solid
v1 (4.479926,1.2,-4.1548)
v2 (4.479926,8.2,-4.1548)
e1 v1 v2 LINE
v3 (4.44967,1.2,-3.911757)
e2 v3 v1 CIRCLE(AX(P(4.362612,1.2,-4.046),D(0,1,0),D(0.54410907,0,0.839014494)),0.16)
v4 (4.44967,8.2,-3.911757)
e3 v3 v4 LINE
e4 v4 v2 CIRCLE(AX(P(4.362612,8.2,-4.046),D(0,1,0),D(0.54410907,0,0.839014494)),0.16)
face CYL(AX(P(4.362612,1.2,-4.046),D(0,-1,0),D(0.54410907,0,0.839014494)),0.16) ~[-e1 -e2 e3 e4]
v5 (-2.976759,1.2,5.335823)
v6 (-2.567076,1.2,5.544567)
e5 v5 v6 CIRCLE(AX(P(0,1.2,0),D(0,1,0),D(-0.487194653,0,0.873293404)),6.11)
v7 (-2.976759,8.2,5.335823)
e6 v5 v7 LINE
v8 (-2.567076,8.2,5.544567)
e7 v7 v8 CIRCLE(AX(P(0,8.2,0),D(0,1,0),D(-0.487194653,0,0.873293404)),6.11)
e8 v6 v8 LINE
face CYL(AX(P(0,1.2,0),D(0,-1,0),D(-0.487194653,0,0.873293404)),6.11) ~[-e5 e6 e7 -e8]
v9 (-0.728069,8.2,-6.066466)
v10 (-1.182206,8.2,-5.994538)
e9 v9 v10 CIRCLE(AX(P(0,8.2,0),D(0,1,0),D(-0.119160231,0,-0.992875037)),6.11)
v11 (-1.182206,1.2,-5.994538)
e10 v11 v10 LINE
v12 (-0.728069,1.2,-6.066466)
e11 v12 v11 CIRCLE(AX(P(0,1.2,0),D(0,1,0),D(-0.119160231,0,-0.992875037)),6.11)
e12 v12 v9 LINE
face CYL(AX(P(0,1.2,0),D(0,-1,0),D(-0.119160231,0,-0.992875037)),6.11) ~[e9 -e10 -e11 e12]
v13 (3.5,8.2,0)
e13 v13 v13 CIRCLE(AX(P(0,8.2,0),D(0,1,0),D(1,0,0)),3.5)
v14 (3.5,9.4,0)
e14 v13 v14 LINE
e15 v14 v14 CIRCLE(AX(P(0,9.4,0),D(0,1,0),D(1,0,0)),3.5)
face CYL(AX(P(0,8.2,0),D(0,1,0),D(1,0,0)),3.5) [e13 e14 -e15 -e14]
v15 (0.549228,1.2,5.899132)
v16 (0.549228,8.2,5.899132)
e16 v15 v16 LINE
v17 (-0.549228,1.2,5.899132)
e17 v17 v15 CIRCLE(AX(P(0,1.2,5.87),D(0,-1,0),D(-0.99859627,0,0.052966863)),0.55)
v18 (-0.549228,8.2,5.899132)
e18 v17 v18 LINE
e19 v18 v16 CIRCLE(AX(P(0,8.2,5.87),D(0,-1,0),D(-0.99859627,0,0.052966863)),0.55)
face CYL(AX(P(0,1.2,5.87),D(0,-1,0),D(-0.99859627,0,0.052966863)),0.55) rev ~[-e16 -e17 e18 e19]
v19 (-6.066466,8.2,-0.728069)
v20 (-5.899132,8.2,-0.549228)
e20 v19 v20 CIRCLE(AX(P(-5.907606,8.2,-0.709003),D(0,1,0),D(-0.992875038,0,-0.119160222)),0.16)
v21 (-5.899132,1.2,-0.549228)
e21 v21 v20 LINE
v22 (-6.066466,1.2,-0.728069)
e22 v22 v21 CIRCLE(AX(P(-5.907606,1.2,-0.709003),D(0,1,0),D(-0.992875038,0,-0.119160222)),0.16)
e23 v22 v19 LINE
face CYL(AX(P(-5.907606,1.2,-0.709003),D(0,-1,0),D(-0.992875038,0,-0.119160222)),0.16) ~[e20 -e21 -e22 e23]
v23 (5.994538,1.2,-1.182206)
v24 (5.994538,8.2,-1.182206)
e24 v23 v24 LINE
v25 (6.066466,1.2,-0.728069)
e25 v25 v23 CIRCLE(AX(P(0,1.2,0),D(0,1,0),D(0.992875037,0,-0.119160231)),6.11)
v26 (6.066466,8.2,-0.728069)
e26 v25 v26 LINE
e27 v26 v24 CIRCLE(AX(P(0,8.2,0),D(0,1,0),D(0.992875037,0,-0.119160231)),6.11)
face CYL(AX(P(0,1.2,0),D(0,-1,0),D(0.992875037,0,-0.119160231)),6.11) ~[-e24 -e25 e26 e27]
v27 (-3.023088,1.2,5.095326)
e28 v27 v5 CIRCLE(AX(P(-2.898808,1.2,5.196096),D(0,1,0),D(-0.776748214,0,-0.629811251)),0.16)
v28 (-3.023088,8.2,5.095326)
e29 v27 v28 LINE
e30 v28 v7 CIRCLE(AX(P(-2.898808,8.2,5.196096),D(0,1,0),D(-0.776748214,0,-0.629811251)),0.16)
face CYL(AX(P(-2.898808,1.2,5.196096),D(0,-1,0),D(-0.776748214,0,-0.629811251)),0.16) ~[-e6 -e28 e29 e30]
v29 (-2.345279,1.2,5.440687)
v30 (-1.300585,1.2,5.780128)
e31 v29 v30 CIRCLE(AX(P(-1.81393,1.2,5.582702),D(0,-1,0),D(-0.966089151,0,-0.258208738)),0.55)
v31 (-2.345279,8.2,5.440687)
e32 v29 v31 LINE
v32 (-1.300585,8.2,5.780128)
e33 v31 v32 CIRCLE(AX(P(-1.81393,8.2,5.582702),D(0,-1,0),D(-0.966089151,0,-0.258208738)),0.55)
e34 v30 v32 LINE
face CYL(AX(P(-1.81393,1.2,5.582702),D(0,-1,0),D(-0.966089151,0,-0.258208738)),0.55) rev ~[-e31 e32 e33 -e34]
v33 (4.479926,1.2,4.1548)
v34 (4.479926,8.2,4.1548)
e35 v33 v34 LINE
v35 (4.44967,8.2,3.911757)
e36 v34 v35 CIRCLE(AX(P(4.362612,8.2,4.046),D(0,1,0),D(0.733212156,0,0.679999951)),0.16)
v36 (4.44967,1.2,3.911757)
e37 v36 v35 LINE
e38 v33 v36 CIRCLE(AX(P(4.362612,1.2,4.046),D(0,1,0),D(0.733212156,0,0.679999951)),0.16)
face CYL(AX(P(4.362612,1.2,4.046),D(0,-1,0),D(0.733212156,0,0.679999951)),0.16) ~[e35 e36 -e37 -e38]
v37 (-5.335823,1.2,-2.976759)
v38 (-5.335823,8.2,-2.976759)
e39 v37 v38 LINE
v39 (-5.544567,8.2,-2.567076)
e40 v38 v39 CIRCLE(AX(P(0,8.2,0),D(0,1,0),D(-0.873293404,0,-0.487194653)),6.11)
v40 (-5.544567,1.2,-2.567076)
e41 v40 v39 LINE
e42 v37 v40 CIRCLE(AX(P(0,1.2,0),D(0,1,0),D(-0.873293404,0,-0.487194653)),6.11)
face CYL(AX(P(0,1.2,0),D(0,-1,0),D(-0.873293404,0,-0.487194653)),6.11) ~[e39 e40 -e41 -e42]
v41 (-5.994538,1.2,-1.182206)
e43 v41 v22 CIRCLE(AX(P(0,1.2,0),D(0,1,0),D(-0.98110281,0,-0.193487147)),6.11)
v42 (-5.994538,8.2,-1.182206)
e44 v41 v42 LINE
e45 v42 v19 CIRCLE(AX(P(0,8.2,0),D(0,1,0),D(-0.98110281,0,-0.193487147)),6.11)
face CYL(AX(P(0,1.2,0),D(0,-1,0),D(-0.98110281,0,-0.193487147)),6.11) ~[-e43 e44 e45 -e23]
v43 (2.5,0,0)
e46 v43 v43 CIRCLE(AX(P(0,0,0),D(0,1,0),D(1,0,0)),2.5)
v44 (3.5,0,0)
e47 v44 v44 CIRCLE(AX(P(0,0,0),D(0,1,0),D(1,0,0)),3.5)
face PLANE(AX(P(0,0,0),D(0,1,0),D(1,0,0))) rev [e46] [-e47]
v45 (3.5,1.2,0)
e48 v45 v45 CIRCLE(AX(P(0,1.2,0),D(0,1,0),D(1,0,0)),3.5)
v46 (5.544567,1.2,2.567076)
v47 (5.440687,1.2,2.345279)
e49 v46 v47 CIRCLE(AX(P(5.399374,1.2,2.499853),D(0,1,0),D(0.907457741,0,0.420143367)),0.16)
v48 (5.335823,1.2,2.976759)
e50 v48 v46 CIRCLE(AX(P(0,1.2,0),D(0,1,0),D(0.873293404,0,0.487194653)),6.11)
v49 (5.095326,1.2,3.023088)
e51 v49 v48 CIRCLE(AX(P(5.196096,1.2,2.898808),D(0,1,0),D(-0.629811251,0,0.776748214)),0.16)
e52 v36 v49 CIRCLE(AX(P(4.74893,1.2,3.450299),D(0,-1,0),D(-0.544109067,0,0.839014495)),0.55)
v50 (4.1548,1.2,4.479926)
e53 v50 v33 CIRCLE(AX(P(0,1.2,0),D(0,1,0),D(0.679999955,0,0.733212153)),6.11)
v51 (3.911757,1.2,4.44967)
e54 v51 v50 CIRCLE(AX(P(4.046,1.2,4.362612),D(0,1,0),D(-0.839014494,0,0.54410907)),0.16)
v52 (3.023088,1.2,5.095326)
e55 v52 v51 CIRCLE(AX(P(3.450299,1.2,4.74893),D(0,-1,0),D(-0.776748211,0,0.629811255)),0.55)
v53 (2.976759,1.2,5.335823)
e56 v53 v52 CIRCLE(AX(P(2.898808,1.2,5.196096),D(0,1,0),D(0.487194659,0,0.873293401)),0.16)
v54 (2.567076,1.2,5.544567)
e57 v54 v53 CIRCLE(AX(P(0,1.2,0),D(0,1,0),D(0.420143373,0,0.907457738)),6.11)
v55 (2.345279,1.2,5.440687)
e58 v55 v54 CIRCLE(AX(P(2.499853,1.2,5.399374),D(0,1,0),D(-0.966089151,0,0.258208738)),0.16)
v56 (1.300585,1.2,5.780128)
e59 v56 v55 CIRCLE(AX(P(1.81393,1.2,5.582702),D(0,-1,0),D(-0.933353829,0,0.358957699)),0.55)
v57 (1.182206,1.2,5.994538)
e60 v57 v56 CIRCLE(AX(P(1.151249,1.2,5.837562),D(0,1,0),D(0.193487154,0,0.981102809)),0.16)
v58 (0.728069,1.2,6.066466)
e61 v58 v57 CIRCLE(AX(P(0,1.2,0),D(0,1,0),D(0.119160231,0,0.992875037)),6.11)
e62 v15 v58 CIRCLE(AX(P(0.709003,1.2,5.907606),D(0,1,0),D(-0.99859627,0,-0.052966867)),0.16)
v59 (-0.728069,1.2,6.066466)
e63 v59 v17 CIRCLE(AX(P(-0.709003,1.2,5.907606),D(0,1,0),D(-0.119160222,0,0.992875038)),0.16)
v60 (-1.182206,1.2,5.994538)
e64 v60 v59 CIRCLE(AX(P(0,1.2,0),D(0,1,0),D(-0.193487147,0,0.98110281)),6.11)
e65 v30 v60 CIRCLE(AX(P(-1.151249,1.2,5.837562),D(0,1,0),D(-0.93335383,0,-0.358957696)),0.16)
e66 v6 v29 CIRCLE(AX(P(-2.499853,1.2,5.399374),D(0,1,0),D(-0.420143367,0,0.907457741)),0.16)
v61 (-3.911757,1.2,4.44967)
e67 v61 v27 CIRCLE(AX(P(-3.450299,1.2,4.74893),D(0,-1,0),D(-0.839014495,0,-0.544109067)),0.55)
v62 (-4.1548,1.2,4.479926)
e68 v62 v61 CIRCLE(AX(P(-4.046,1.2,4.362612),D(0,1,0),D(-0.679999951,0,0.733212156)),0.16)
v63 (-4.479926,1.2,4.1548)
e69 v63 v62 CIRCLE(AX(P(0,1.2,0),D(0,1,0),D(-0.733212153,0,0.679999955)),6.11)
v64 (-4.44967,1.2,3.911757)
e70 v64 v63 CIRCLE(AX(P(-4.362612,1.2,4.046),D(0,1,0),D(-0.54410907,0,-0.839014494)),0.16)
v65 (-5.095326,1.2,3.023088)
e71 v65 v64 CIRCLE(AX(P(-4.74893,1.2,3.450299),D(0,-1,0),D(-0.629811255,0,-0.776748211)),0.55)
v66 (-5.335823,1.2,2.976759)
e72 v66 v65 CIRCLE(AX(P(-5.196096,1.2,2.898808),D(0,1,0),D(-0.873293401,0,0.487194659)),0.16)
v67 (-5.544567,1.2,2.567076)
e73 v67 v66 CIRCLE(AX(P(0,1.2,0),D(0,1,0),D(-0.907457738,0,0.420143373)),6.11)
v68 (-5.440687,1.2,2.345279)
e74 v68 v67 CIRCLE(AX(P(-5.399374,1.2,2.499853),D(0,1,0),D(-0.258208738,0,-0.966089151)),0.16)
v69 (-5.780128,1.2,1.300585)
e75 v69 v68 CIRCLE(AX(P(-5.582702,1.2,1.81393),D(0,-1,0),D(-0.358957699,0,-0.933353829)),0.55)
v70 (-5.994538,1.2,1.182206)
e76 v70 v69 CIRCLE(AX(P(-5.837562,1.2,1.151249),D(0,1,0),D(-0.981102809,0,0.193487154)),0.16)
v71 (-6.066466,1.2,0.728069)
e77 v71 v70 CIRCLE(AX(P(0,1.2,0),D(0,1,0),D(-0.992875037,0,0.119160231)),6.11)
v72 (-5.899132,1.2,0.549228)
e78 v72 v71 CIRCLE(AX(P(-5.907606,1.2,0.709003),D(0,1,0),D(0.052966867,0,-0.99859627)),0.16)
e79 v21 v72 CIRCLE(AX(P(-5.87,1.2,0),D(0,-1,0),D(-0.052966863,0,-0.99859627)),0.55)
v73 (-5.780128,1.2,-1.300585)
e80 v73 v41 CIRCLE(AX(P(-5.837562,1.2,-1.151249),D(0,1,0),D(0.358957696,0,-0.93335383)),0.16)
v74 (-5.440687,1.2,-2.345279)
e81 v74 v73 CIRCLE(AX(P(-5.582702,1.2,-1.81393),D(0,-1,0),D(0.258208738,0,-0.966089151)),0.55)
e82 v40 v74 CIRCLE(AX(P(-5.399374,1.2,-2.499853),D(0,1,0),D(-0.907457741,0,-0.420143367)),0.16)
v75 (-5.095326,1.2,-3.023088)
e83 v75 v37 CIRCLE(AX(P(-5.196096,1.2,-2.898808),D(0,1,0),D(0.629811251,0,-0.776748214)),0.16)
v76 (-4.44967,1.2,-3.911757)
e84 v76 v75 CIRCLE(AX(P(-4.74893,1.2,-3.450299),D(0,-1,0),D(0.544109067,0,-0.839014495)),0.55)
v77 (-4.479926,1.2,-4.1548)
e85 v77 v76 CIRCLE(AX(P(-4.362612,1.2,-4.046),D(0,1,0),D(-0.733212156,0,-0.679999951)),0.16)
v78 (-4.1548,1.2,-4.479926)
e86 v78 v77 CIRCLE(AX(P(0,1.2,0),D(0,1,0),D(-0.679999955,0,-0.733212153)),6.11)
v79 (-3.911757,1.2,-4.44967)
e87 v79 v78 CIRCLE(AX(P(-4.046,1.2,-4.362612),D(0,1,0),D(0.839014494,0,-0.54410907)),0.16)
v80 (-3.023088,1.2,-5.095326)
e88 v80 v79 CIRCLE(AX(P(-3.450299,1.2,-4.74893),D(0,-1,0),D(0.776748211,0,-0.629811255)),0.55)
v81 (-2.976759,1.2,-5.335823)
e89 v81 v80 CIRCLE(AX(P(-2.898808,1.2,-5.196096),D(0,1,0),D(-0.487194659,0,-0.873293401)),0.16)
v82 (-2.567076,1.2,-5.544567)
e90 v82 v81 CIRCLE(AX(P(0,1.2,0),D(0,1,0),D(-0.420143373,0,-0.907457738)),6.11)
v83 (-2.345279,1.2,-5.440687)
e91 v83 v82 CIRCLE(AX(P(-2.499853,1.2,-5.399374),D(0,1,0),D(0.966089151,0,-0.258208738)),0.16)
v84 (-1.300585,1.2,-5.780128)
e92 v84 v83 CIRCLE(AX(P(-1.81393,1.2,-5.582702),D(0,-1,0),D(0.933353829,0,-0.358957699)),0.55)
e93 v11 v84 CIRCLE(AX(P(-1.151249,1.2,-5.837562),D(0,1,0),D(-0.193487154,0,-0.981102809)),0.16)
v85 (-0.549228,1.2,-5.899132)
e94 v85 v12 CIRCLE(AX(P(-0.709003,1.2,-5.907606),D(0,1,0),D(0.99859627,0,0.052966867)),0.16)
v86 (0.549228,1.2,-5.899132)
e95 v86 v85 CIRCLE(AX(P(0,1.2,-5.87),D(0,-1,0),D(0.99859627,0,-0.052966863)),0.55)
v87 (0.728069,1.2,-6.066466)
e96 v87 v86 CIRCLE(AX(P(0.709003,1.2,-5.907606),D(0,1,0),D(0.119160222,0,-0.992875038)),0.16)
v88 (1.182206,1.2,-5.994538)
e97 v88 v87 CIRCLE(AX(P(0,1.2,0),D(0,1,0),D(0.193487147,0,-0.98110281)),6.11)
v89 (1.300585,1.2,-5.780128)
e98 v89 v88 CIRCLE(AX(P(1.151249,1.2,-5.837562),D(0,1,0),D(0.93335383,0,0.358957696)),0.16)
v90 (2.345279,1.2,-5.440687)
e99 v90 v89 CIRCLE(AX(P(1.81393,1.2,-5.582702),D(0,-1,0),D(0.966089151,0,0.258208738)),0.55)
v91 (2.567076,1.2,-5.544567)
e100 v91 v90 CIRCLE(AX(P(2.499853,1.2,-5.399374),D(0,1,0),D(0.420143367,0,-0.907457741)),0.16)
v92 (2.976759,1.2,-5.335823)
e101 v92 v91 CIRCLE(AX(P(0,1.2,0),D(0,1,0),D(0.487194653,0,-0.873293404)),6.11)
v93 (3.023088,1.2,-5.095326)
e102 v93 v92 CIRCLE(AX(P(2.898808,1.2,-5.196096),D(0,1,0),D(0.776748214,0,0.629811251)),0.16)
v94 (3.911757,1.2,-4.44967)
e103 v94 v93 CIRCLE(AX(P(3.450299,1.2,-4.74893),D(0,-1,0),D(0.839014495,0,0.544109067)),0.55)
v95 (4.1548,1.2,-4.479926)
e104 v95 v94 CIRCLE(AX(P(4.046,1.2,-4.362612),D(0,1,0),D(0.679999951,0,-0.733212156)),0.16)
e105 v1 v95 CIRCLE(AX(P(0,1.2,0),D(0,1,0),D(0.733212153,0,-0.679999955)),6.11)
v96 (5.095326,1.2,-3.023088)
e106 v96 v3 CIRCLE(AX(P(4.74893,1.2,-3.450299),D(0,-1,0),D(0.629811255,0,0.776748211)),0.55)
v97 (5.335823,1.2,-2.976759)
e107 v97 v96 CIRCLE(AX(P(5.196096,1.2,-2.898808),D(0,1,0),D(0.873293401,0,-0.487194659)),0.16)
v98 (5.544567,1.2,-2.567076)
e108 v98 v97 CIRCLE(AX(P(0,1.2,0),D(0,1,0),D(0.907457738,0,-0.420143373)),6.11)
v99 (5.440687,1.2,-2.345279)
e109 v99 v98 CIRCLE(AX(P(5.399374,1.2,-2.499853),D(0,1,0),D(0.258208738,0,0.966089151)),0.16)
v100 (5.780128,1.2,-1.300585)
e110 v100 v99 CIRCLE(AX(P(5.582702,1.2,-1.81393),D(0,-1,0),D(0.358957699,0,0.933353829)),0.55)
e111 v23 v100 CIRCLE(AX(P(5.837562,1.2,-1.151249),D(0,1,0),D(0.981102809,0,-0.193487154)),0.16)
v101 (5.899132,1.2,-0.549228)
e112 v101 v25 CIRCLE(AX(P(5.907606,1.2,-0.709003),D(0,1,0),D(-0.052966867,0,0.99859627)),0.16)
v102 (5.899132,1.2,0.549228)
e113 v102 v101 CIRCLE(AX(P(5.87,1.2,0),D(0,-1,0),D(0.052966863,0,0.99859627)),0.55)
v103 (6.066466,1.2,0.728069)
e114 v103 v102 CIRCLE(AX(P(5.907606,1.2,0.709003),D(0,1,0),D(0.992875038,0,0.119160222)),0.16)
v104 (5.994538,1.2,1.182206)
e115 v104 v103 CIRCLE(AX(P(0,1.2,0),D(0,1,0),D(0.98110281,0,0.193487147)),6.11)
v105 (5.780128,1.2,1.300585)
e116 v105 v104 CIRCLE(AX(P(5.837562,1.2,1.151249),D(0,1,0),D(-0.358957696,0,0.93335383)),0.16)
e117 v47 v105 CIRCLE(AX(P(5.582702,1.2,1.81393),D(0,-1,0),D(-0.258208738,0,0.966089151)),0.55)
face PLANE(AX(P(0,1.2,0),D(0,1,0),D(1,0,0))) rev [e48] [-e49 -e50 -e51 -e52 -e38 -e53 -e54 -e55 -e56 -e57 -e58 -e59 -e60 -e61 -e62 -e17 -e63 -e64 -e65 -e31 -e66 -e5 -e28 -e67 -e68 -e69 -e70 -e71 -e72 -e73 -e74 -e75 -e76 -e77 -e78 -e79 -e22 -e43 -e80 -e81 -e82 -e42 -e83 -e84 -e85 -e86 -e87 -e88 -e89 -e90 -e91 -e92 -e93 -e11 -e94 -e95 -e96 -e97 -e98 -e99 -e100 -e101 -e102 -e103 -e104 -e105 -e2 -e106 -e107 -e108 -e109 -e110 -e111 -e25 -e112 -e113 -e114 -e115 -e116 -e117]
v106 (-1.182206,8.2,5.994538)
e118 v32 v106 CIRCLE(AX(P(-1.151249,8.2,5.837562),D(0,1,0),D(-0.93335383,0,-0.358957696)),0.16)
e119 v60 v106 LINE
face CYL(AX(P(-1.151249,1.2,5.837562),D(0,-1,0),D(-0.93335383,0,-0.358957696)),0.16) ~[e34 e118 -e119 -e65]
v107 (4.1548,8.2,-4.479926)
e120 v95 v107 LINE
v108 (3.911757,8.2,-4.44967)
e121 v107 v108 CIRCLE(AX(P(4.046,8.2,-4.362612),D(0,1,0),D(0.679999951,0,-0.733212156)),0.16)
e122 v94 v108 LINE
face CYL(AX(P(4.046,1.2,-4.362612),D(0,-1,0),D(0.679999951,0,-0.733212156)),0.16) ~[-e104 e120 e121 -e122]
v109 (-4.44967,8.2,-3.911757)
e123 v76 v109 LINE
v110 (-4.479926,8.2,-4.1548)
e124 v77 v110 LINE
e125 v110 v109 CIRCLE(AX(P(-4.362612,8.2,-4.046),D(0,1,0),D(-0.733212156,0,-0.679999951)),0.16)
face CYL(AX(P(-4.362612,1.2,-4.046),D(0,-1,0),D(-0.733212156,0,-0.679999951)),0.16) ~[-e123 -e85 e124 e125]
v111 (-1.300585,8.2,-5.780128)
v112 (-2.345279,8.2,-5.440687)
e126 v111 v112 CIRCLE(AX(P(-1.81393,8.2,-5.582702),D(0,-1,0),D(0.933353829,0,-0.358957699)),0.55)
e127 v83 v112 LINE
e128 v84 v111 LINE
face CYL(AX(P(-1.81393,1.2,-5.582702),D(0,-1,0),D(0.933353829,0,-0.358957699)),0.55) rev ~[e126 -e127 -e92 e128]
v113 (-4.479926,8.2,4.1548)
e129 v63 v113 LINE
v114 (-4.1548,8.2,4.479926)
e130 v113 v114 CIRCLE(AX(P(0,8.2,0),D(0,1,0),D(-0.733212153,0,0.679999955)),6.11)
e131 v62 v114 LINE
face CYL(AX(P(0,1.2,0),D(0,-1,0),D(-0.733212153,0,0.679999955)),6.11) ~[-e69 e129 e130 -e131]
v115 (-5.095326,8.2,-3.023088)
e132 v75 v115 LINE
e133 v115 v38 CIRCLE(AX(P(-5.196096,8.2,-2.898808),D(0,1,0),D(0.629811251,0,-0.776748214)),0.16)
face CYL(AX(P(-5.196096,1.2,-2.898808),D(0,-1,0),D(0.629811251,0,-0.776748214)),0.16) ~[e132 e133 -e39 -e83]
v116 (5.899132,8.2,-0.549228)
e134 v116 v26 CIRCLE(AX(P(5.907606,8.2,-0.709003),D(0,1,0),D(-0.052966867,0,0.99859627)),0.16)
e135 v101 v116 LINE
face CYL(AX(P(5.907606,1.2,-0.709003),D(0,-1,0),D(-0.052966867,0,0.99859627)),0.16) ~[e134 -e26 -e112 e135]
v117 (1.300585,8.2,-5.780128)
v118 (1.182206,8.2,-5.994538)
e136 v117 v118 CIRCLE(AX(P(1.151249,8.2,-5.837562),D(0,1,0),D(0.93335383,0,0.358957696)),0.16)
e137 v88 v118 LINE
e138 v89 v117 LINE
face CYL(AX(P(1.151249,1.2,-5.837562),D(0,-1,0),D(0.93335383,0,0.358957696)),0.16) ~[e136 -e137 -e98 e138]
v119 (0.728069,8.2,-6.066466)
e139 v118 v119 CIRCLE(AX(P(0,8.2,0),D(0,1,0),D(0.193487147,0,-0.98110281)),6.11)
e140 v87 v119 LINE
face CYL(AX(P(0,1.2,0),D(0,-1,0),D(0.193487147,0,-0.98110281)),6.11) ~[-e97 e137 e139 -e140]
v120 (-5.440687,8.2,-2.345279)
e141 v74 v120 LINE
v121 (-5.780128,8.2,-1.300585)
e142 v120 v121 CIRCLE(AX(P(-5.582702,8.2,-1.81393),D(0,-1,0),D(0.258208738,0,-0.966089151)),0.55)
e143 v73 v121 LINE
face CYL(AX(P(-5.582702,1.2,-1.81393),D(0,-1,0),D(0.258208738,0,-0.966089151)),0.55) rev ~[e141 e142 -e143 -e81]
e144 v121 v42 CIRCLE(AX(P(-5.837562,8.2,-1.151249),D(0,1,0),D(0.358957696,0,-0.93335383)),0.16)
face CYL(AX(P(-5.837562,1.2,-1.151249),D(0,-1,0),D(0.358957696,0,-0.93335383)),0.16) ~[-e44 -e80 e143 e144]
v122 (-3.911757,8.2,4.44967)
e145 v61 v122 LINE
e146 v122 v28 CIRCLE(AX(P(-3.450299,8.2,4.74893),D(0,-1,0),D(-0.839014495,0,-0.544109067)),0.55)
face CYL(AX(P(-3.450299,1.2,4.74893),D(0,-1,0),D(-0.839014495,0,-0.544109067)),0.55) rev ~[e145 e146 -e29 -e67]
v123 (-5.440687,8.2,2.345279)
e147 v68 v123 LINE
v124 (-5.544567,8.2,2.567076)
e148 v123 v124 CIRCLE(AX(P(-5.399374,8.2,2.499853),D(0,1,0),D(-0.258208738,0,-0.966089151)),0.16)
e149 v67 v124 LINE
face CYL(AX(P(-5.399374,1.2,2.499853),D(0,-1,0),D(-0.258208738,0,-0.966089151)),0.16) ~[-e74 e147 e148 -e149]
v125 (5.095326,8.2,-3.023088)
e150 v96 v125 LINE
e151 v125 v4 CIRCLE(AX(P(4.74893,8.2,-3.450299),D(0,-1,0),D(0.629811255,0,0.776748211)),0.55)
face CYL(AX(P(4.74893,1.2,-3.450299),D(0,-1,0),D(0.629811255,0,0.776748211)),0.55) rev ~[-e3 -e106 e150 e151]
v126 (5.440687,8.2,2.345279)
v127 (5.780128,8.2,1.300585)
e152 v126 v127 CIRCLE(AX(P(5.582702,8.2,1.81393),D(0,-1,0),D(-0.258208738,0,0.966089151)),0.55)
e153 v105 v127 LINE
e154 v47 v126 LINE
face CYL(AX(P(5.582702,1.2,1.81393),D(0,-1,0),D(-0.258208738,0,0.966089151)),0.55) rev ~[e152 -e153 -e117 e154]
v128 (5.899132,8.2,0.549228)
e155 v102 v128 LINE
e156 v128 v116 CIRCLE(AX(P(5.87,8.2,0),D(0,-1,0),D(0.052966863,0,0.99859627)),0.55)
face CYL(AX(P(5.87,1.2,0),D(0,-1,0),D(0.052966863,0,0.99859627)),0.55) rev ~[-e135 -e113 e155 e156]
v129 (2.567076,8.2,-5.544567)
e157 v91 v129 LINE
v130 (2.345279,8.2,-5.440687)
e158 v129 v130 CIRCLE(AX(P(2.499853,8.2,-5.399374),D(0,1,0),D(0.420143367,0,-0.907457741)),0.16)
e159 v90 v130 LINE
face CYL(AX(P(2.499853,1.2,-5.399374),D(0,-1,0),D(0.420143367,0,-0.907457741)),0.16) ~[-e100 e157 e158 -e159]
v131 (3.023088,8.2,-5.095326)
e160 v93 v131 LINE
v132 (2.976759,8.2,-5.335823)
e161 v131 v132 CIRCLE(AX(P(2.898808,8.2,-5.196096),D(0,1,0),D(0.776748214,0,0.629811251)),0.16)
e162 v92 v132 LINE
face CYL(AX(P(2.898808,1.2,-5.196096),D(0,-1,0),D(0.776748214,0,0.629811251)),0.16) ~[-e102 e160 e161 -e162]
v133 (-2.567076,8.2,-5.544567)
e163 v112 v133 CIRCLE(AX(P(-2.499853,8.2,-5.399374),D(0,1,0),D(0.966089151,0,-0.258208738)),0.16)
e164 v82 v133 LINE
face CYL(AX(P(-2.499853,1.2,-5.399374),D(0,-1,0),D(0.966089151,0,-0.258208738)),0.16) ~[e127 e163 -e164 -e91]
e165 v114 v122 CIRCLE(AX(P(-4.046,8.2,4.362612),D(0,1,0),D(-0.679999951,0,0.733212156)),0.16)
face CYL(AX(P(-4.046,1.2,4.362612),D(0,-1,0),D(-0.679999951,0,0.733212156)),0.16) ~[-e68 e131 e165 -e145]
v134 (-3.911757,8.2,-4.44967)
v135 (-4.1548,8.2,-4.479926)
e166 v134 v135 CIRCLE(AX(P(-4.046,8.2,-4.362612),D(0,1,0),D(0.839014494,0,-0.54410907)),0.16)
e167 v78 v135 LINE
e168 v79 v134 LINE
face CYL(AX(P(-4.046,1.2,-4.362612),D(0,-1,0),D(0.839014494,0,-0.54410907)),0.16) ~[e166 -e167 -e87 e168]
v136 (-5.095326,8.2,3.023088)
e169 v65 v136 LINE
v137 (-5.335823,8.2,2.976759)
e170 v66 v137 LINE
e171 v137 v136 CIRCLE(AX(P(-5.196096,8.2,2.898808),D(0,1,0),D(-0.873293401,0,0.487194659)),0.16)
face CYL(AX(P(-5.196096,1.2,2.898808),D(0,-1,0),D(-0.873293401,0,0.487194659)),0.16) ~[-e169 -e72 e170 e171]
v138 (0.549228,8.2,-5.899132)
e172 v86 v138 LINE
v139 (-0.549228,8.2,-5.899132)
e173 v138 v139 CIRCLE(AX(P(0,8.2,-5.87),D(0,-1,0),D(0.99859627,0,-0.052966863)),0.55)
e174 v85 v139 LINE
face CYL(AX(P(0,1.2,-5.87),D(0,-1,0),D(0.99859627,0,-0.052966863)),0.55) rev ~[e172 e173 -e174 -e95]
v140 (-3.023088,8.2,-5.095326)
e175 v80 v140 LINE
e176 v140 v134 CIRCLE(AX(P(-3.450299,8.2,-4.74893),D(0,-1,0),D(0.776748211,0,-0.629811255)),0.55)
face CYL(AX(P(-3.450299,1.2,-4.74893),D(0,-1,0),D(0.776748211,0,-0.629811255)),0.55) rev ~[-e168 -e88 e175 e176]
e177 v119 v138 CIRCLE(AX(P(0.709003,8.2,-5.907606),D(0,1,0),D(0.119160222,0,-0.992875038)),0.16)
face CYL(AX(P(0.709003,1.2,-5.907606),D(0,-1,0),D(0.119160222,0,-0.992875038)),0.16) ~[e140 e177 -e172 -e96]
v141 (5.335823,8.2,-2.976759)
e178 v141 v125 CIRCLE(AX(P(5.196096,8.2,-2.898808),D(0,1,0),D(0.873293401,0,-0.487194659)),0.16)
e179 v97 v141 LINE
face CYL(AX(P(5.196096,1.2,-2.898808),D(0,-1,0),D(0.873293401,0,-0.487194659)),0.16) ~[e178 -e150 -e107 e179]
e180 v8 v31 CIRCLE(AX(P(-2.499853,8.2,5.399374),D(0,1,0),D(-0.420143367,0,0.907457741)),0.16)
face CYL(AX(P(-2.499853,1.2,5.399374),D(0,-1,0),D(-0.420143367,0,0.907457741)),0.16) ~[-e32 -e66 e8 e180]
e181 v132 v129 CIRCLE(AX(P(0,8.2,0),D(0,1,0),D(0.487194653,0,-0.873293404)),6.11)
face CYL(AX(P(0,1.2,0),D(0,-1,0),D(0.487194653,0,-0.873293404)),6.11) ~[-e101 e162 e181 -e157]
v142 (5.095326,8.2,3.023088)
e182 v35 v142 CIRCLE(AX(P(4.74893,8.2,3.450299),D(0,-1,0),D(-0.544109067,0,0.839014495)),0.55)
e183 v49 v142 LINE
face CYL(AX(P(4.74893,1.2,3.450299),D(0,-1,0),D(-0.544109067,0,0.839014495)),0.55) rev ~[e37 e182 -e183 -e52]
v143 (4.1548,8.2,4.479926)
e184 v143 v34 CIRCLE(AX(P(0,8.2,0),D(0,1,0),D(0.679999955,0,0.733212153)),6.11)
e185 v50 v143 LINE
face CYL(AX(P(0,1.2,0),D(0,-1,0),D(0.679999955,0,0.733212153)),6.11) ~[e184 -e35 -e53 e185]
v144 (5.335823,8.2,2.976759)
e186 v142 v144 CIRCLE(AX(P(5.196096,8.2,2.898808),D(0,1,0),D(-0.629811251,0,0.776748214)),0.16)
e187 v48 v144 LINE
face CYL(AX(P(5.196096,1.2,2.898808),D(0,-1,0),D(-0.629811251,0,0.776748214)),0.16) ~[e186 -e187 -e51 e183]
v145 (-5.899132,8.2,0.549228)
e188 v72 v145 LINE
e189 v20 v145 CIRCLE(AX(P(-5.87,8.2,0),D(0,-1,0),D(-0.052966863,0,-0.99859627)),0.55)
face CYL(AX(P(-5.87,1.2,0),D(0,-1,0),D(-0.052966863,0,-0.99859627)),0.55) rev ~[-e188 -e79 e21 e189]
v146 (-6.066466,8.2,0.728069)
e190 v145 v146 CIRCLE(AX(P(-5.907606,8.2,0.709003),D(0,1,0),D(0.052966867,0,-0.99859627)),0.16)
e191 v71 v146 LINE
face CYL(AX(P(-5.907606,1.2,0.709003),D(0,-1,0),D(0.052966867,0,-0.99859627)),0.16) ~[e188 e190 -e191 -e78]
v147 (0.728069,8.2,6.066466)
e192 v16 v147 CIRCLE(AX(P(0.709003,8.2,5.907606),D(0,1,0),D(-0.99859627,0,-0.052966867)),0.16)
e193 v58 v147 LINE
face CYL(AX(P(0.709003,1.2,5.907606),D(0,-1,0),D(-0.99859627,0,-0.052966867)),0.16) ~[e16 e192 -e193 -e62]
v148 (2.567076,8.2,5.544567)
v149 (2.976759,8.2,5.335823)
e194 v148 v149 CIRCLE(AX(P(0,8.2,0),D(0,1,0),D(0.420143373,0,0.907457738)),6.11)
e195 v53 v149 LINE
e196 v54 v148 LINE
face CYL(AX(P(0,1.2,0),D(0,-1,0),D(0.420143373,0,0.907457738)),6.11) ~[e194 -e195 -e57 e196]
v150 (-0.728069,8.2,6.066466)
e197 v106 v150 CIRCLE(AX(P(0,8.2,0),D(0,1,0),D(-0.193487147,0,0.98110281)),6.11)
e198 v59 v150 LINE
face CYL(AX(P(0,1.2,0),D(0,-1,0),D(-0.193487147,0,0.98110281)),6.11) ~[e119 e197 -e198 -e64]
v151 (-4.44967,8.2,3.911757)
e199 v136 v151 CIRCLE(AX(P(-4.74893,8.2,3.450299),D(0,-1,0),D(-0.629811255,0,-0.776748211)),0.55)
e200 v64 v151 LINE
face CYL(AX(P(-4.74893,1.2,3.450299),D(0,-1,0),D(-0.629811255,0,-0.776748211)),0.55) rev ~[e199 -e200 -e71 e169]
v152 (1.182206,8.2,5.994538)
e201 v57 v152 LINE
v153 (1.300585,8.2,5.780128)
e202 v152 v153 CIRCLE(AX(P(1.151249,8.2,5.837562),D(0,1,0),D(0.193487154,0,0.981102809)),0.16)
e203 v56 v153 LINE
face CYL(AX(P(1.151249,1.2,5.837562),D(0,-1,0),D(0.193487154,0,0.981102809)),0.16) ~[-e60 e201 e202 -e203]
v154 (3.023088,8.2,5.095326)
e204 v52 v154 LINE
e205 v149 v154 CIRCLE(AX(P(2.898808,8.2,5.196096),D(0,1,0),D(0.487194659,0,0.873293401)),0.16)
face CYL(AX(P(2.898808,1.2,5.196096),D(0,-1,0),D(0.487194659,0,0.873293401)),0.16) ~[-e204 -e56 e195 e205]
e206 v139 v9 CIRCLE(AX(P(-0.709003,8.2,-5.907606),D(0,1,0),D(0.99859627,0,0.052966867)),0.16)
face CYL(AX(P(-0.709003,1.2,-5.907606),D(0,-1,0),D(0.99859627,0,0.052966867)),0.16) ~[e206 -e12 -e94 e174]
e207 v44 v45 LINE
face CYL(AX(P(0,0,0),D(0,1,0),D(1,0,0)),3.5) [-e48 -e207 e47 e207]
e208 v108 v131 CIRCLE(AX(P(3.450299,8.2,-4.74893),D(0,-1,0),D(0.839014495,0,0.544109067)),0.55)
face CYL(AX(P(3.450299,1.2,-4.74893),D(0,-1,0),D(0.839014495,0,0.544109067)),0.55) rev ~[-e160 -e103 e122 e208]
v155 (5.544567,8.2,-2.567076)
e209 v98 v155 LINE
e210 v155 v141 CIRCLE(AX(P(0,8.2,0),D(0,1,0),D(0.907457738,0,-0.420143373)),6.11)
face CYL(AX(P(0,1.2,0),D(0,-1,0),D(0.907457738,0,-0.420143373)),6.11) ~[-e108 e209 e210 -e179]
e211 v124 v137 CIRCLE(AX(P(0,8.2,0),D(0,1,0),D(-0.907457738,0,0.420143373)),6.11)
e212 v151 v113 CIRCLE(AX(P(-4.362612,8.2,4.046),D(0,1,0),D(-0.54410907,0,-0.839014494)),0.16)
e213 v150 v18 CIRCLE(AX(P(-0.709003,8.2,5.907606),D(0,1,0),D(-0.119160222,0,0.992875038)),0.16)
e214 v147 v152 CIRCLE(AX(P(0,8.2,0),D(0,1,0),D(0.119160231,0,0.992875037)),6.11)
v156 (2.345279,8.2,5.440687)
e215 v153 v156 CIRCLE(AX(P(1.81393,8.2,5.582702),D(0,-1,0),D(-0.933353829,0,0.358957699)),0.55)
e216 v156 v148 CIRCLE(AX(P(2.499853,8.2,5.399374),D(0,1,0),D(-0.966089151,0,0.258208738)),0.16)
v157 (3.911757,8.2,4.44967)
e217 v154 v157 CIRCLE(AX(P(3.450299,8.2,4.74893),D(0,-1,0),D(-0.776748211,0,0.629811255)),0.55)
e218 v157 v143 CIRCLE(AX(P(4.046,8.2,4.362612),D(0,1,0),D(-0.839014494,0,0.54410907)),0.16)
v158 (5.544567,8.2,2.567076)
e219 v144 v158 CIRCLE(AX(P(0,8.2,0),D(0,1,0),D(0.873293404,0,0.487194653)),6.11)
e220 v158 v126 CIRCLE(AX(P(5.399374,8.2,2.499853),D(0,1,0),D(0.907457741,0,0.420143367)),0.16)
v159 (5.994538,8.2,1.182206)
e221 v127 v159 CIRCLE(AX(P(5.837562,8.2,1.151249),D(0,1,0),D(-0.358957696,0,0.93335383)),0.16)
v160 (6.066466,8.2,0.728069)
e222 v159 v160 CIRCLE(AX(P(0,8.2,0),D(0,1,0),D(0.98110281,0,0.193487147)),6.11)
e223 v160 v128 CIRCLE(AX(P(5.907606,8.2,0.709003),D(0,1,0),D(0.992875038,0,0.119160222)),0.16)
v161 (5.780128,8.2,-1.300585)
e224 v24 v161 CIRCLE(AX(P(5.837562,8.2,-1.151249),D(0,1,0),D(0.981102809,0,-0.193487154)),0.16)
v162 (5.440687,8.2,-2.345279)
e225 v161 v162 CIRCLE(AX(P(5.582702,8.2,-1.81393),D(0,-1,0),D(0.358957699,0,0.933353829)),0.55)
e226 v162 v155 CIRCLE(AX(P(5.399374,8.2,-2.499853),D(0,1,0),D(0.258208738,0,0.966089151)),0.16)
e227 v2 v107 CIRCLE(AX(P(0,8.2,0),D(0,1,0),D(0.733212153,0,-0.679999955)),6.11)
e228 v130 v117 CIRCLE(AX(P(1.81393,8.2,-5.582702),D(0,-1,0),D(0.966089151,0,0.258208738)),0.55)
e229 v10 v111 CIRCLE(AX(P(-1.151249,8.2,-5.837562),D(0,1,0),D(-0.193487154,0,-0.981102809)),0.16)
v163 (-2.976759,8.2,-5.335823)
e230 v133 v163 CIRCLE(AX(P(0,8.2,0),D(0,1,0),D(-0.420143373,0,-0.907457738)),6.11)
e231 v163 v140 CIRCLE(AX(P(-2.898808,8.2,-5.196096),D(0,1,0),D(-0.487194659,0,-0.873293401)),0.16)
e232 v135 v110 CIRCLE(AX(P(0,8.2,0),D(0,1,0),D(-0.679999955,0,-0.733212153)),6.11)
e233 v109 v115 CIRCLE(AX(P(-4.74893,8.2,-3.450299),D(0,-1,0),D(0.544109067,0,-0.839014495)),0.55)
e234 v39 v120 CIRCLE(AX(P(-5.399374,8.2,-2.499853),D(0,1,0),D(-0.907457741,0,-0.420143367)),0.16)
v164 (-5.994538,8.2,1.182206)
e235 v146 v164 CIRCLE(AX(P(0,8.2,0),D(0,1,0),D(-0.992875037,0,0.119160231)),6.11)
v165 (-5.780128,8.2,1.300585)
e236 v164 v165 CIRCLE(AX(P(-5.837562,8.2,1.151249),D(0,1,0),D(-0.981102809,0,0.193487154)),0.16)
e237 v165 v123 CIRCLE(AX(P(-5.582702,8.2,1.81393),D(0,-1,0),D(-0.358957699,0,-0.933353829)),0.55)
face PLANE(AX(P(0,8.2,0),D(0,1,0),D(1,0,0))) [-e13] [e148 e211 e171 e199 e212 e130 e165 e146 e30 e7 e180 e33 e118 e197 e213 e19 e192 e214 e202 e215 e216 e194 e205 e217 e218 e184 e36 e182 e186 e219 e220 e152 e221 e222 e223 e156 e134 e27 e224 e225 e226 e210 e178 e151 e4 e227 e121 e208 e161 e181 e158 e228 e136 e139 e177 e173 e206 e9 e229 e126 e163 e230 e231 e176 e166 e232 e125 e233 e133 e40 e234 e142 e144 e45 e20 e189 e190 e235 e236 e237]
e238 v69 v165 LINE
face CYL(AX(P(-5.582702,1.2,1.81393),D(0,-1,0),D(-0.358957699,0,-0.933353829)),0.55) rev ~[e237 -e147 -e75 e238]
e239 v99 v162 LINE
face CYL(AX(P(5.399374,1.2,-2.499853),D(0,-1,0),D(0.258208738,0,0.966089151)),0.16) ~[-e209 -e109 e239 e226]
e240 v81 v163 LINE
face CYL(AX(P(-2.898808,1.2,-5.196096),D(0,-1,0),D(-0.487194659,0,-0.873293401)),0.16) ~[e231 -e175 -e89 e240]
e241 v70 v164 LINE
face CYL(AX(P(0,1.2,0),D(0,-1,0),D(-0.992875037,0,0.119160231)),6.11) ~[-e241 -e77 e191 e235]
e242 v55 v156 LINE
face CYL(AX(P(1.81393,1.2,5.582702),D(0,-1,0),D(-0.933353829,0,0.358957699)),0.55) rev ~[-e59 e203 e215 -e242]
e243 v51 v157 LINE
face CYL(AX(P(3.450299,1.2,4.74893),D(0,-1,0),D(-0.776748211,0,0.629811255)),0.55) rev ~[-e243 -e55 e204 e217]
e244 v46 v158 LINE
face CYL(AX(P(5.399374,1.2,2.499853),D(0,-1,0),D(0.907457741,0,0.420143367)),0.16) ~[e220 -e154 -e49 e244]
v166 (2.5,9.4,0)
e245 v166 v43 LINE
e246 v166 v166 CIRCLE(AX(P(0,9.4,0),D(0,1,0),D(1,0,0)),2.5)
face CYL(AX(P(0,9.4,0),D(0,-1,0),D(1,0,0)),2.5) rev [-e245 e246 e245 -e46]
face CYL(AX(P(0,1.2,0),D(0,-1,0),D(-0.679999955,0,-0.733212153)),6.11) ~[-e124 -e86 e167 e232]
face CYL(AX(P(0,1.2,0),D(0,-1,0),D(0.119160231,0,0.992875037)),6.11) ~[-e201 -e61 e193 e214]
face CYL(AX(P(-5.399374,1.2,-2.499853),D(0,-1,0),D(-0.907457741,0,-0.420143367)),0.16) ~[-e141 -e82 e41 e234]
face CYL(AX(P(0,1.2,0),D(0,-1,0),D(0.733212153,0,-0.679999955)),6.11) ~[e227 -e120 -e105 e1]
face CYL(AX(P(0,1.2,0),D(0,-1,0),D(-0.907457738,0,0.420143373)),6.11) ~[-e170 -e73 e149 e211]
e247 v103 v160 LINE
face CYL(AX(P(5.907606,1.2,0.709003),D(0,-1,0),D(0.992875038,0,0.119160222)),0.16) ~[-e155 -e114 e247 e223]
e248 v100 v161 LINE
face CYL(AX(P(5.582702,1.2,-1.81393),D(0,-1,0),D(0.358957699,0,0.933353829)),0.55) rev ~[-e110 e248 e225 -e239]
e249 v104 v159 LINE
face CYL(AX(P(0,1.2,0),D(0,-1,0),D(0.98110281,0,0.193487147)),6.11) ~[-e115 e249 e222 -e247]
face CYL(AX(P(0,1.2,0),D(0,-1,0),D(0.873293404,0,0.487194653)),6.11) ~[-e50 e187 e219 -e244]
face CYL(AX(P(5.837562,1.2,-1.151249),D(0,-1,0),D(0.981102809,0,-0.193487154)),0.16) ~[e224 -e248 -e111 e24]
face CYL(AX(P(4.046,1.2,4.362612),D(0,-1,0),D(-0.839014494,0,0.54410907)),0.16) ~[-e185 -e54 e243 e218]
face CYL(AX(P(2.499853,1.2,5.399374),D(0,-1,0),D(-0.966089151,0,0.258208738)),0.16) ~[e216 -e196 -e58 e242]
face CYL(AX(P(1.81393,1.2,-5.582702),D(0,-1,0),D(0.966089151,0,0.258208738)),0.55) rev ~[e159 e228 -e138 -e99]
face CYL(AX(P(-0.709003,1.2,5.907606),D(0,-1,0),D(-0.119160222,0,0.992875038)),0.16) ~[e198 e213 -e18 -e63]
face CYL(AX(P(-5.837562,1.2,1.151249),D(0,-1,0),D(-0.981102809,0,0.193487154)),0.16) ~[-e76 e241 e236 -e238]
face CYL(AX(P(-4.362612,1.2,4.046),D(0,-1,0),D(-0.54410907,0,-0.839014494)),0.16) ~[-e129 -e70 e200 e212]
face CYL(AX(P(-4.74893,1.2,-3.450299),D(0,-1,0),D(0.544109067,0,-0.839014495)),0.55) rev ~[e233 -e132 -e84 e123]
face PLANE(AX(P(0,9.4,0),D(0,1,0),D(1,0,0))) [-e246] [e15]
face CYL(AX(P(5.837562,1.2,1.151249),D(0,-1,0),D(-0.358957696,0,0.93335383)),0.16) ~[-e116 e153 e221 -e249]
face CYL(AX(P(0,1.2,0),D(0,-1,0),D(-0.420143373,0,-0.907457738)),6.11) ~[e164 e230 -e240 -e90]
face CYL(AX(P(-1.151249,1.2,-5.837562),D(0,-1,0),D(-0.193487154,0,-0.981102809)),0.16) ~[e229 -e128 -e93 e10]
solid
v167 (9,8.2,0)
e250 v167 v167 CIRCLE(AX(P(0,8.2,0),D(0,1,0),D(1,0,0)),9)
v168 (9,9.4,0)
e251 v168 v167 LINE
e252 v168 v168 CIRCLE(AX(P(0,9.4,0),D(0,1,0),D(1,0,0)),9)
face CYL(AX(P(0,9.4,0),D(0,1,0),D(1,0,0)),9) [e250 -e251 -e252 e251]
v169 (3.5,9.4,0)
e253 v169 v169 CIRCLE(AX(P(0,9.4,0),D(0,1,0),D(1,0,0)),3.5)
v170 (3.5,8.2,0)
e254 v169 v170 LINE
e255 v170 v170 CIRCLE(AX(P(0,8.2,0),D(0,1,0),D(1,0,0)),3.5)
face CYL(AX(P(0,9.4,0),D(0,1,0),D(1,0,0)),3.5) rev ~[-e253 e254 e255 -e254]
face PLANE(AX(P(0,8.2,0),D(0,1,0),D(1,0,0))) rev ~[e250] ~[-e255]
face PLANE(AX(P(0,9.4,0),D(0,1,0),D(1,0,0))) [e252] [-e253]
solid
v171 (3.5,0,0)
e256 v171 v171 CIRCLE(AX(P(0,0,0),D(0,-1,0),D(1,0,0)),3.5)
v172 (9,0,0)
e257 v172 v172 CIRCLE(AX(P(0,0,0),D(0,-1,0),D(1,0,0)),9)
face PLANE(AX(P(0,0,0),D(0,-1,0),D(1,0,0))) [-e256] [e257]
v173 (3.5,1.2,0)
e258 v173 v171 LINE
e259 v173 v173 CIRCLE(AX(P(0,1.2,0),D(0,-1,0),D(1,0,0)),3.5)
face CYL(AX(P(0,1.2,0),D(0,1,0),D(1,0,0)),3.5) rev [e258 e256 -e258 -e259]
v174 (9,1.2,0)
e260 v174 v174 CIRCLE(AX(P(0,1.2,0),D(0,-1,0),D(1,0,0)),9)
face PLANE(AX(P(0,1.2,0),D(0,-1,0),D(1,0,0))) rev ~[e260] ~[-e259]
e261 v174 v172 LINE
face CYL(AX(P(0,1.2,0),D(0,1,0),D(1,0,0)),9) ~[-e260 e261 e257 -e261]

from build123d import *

# Parameters (mm, degrees)
SKICA3_R                 = 9
SKICA3_R_2               = 3.5
P_IDAT_VYSUNUT_M1_DEPTH  = 1.2
SKICA5_R                 = 7.5
ODEBRAT_VYSUNUT_M1_DEPTH = 7
SKICA6_R                 = 9
SKICA6_R_2               = 3.5
P_IDAT_VYSUNUT_M3_DEPTH  = 1.2


with BuildPart() as part:
    # Skica2 → Rotovat1 (revolve)
    with BuildSketch(Plane.XY):
        Polygon((3.5, 9.4), (2.5, 9.4), (2.5, 0), (3.5, 0), (3.5, 1.2), (7.5, 1.2), (7.5, 8.2), (3.5, 8.2), align=None)
    revolve(axis=Axis((0, 0, 0), (0, 1, 0)))

    # Skica5 → Odebrat vysunutím1 (cut)
    with BuildSketch(Plane.XZ.offset(-1.2)):
        Circle(SKICA5_R)
        with BuildLine():
            ThreePointArc((-0.549227949, 5.899131775), (0, 5.32), (0.549227949, 5.899131775))
            ThreePointArc((0.549227949, 5.899131775), (0.599687134, 6.024439536), (0.728068988, 6.06646648))
            ThreePointArc((0.728068988, 6.06646648), (0.955814581, 6.034775761), (1.182206482, 5.994538167))
            ThreePointArc((1.182206482, 5.994538167), (1.291317841, 5.914895994), (1.300585151, 5.780128485))
            ThreePointArc((1.300585151, 5.780128485), (1.64397041, 5.059620667), (2.34527879, 5.440686945))
            ThreePointArc((2.34527879, 5.440686945), (2.431990555, 5.544268962), (2.567075994, 5.544566786))
            ThreePointArc((2.567075994, 5.544566786), (2.773881953, 5.444049863), (2.976759346, 5.335822692))
            ThreePointArc((2.976759346, 5.335822692), (3.05591963, 5.22636122), (3.023087915, 5.095325947))
            ThreePointArc((3.023087915, 5.095325947), (3.127017542, 4.30397041), (3.911757403, 4.44966977))
            ThreePointArc((3.911757403, 4.44966977), (4.026233796, 4.521386713), (4.154799715, 4.479926264))
            ThreePointArc((4.154799715, 4.479926264), (4.320422433, 4.320422433), (4.479926264, 4.154799715))
            ThreePointArc((4.479926264, 4.154799715), (4.521386713, 4.026233796), (4.44966977, 3.911757403))
            ThreePointArc((4.44966977, 3.911757403), (4.30397041, 3.127017542), (5.095325947, 3.023087915))
            ThreePointArc((5.095325947, 3.023087915), (5.22636122, 3.05591963), (5.335822692, 2.976759346))
            ThreePointArc((5.335822692, 2.976759346), (5.444049863, 2.773881953), (5.544566786, 2.567075994))
            ThreePointArc((5.544566786, 2.567075994), (5.544268962, 2.431990555), (5.440686945, 2.34527879))
            ThreePointArc((5.440686945, 2.34527879), (5.059620667, 1.64397041), (5.780128485, 1.300585151))
            ThreePointArc((5.780128485, 1.300585151), (5.914895994, 1.291317841), (5.994538167, 1.182206482))
            ThreePointArc((5.994538167, 1.182206482), (6.034775761, 0.955814581), (6.06646648, 0.728068988))
            ThreePointArc((6.06646648, 0.728068988), (6.024439536, 0.599687134), (5.899131775, 0.549227949))
            ThreePointArc((5.899131775, 0.549227949), (5.32, 0), (5.899131775, -0.549227949))
            ThreePointArc((5.899131775, -0.549227949), (6.024439536, -0.599687134), (6.06646648, -0.728068988))
            ThreePointArc((6.06646648, -0.728068988), (6.034775761, -0.955814581), (5.994538167, -1.182206482))
            ThreePointArc((5.994538167, -1.182206482), (5.914895994, -1.291317841), (5.780128485, -1.300585151))
            ThreePointArc((5.780128485, -1.300585151), (5.059620667, -1.64397041), (5.440686945, -2.34527879))
            ThreePointArc((5.440686945, -2.34527879), (5.544268962, -2.431990555), (5.544566786, -2.567075994))
            ThreePointArc((5.544566786, -2.567075994), (5.444049863, -2.773881953), (5.335822692, -2.976759346))
            ThreePointArc((5.335822692, -2.976759346), (5.22636122, -3.05591963), (5.095325947, -3.023087915))
            ThreePointArc((5.095325947, -3.023087915), (4.30397041, -3.127017542), (4.44966977, -3.911757403))
            ThreePointArc((4.44966977, -3.911757403), (4.521386713, -4.026233796), (4.479926264, -4.154799715))
            ThreePointArc((4.479926264, -4.154799715), (4.320422433, -4.320422433), (4.154799715, -4.479926264))
            ThreePointArc((4.154799715, -4.479926264), (4.026233796, -4.521386713), (3.911757403, -4.44966977))
            ThreePointArc((3.911757403, -4.44966977), (3.127017542, -4.30397041), (3.023087915, -5.095325947))
            ThreePointArc((3.023087915, -5.095325947), (3.05591963, -5.22636122), (2.976759346, -5.335822692))
            ThreePointArc((2.976759346, -5.335822692), (2.773881953, -5.444049863), (2.567075994, -5.544566786))
            ThreePointArc((2.567075994, -5.544566786), (2.431990555, -5.544268962), (2.34527879, -5.440686945))
            ThreePointArc((2.34527879, -5.440686945), (1.64397041, -5.059620667), (1.300585151, -5.780128485))
            ThreePointArc((1.300585151, -5.780128485), (1.291317841, -5.914895994), (1.182206482, -5.994538167))
            ThreePointArc((1.182206482, -5.994538167), (0.955814581, -6.034775761), (0.728068988, -6.06646648))
            ThreePointArc((0.728068988, -6.06646648), (0.599687134, -6.024439536), (0.549227949, -5.899131775))
            ThreePointArc((0.549227949, -5.899131775), (0, -5.32), (-0.549227949, -5.899131775))
            ThreePointArc((-0.549227949, -5.899131775), (-0.599687134, -6.024439536), (-0.728068988, -6.06646648))
            ThreePointArc((-0.728068988, -6.06646648), (-0.955814581, -6.034775761), (-1.182206482, -5.994538167))
            ThreePointArc((-1.182206482, -5.994538167), (-1.291317841, -5.914895994), (-1.300585151, -5.780128485))
            ThreePointArc((-1.300585151, -5.780128485), (-1.64397041, -5.059620667), (-2.34527879, -5.440686945))
            ThreePointArc((-2.34527879, -5.440686945), (-2.431990555, -5.544268962), (-2.567075994, -5.544566786))
            ThreePointArc((-2.567075994, -5.544566786), (-2.773881953, -5.444049863), (-2.976759346, -5.335822692))
            ThreePointArc((-2.976759346, -5.335822692), (-3.05591963, -5.22636122), (-3.023087915, -5.095325947))
            ThreePointArc((-3.023087915, -5.095325947), (-3.127017542, -4.30397041), (-3.911757403, -4.44966977))
            ThreePointArc((-3.911757403, -4.44966977), (-4.026233796, -4.521386713), (-4.154799715, -4.479926264))
            ThreePointArc((-4.154799715, -4.479926264), (-4.320422433, -4.320422433), (-4.479926264, -4.154799715))
            ThreePointArc((-4.479926264, -4.154799715), (-4.521386713, -4.026233796), (-4.44966977, -3.911757403))
            ThreePointArc((-4.44966977, -3.911757403), (-4.30397041, -3.127017542), (-5.095325947, -3.023087915))
            ThreePointArc((-5.095325947, -3.023087915), (-5.22636122, -3.05591963), (-5.335822692, -2.976759346))
            ThreePointArc((-5.335822692, -2.976759346), (-5.444049863, -2.773881953), (-5.544566786, -2.567075994))
            ThreePointArc((-5.544566786, -2.567075994), (-5.544268962, -2.431990555), (-5.440686945, -2.34527879))
            ThreePointArc((-5.440686945, -2.34527879), (-5.059620667, -1.64397041), (-5.780128485, -1.300585151))
            ThreePointArc((-5.780128485, -1.300585151), (-5.914895994, -1.291317841), (-5.994538167, -1.182206482))
            ThreePointArc((-5.994538167, -1.182206482), (-6.034775761, -0.955814581), (-6.06646648, -0.728068988))
            ThreePointArc((-6.06646648, -0.728068988), (-6.024439536, -0.599687134), (-5.899131775, -0.549227949))
            ThreePointArc((-5.899131775, -0.549227949), (-5.32, 0), (-5.899131775, 0.549227949))
            ThreePointArc((-5.899131775, 0.549227949), (-6.024439536, 0.599687134), (-6.06646648, 0.728068988))
            ThreePointArc((-6.06646648, 0.728068988), (-6.034775761, 0.955814581), (-5.994538167, 1.182206482))
            ThreePointArc((-5.994538167, 1.182206482), (-5.914895994, 1.291317841), (-5.780128485, 1.300585151))
            ThreePointArc((-5.780128485, 1.300585151), (-5.059620667, 1.64397041), (-5.440686945, 2.34527879))
            ThreePointArc((-5.440686945, 2.34527879), (-5.544268962, 2.431990555), (-5.544566786, 2.567075994))
            ThreePointArc((-5.544566786, 2.567075994), (-5.444049863, 2.773881953), (-5.335822692, 2.976759346))
            ThreePointArc((-5.335822692, 2.976759346), (-5.22636122, 3.05591963), (-5.095325947, 3.023087915))
            ThreePointArc((-5.095325947, 3.023087915), (-4.30397041, 3.127017542), (-4.44966977, 3.911757403))
            ThreePointArc((-4.44966977, 3.911757403), (-4.521386713, 4.026233796), (-4.479926264, 4.154799715))
            ThreePointArc((-4.479926264, 4.154799715), (-4.320422433, 4.320422433), (-4.154799715, 4.479926264))
            ThreePointArc((-4.154799715, 4.479926264), (-4.026233796, 4.521386713), (-3.911757403, 4.44966977))
            ThreePointArc((-3.911757403, 4.44966977), (-3.127017542, 4.30397041), (-3.023087915, 5.095325947))
            ThreePointArc((-3.023087915, 5.095325947), (-3.05591963, 5.22636122), (-2.976759346, 5.335822692))
            ThreePointArc((-2.976759346, 5.335822692), (-2.773881953, 5.444049863), (-2.567075994, 5.544566786))
            ThreePointArc((-2.567075994, 5.544566786), (-2.431990555, 5.544268962), (-2.34527879, 5.440686945))
            ThreePointArc((-2.34527879, 5.440686945), (-1.64397041, 5.059620667), (-1.300585151, 5.780128485))
            ThreePointArc((-1.300585151, 5.780128485), (-1.291317841, 5.914895994), (-1.182206482, 5.994538167))
            ThreePointArc((-1.182206482, 5.994538167), (-0.955814581, 6.034775761), (-0.728068988, 6.06646648))
            ThreePointArc((-0.728068988, 6.06646648), (-0.599687134, 6.024439536), (-0.549227949, 5.899131775))
        make_face(mode=Mode.SUBTRACT)
    extrude(amount=-ODEBRAT_VYSUNUT_M1_DEPTH, mode=Mode.SUBTRACT)


with BuildPart() as body_2:
    # Skica3 → Přidat vysunutím1 (new body)
    with BuildSketch(Plane(origin=(0, 9.4, 0), x_dir=(1, 0, 0), z_dir=(0, 1, 0))):
        Circle(SKICA3_R)
        Circle(SKICA3_R_2, mode=Mode.SUBTRACT)
    extrude(amount=-P_IDAT_VYSUNUT_M1_DEPTH)


with BuildPart() as body_3:
    # Skica6 → Přidat vysunutím3 (new body)
    with BuildSketch(Plane.XZ.offset(-1.2)):
        Circle(SKICA6_R)
        Circle(SKICA6_R_2, mode=Mode.SUBTRACT)
    extrude(amount=P_IDAT_VYSUNUT_M3_DEPTH)


solid = Compound([part.part, body_2.part, body_3.part])
